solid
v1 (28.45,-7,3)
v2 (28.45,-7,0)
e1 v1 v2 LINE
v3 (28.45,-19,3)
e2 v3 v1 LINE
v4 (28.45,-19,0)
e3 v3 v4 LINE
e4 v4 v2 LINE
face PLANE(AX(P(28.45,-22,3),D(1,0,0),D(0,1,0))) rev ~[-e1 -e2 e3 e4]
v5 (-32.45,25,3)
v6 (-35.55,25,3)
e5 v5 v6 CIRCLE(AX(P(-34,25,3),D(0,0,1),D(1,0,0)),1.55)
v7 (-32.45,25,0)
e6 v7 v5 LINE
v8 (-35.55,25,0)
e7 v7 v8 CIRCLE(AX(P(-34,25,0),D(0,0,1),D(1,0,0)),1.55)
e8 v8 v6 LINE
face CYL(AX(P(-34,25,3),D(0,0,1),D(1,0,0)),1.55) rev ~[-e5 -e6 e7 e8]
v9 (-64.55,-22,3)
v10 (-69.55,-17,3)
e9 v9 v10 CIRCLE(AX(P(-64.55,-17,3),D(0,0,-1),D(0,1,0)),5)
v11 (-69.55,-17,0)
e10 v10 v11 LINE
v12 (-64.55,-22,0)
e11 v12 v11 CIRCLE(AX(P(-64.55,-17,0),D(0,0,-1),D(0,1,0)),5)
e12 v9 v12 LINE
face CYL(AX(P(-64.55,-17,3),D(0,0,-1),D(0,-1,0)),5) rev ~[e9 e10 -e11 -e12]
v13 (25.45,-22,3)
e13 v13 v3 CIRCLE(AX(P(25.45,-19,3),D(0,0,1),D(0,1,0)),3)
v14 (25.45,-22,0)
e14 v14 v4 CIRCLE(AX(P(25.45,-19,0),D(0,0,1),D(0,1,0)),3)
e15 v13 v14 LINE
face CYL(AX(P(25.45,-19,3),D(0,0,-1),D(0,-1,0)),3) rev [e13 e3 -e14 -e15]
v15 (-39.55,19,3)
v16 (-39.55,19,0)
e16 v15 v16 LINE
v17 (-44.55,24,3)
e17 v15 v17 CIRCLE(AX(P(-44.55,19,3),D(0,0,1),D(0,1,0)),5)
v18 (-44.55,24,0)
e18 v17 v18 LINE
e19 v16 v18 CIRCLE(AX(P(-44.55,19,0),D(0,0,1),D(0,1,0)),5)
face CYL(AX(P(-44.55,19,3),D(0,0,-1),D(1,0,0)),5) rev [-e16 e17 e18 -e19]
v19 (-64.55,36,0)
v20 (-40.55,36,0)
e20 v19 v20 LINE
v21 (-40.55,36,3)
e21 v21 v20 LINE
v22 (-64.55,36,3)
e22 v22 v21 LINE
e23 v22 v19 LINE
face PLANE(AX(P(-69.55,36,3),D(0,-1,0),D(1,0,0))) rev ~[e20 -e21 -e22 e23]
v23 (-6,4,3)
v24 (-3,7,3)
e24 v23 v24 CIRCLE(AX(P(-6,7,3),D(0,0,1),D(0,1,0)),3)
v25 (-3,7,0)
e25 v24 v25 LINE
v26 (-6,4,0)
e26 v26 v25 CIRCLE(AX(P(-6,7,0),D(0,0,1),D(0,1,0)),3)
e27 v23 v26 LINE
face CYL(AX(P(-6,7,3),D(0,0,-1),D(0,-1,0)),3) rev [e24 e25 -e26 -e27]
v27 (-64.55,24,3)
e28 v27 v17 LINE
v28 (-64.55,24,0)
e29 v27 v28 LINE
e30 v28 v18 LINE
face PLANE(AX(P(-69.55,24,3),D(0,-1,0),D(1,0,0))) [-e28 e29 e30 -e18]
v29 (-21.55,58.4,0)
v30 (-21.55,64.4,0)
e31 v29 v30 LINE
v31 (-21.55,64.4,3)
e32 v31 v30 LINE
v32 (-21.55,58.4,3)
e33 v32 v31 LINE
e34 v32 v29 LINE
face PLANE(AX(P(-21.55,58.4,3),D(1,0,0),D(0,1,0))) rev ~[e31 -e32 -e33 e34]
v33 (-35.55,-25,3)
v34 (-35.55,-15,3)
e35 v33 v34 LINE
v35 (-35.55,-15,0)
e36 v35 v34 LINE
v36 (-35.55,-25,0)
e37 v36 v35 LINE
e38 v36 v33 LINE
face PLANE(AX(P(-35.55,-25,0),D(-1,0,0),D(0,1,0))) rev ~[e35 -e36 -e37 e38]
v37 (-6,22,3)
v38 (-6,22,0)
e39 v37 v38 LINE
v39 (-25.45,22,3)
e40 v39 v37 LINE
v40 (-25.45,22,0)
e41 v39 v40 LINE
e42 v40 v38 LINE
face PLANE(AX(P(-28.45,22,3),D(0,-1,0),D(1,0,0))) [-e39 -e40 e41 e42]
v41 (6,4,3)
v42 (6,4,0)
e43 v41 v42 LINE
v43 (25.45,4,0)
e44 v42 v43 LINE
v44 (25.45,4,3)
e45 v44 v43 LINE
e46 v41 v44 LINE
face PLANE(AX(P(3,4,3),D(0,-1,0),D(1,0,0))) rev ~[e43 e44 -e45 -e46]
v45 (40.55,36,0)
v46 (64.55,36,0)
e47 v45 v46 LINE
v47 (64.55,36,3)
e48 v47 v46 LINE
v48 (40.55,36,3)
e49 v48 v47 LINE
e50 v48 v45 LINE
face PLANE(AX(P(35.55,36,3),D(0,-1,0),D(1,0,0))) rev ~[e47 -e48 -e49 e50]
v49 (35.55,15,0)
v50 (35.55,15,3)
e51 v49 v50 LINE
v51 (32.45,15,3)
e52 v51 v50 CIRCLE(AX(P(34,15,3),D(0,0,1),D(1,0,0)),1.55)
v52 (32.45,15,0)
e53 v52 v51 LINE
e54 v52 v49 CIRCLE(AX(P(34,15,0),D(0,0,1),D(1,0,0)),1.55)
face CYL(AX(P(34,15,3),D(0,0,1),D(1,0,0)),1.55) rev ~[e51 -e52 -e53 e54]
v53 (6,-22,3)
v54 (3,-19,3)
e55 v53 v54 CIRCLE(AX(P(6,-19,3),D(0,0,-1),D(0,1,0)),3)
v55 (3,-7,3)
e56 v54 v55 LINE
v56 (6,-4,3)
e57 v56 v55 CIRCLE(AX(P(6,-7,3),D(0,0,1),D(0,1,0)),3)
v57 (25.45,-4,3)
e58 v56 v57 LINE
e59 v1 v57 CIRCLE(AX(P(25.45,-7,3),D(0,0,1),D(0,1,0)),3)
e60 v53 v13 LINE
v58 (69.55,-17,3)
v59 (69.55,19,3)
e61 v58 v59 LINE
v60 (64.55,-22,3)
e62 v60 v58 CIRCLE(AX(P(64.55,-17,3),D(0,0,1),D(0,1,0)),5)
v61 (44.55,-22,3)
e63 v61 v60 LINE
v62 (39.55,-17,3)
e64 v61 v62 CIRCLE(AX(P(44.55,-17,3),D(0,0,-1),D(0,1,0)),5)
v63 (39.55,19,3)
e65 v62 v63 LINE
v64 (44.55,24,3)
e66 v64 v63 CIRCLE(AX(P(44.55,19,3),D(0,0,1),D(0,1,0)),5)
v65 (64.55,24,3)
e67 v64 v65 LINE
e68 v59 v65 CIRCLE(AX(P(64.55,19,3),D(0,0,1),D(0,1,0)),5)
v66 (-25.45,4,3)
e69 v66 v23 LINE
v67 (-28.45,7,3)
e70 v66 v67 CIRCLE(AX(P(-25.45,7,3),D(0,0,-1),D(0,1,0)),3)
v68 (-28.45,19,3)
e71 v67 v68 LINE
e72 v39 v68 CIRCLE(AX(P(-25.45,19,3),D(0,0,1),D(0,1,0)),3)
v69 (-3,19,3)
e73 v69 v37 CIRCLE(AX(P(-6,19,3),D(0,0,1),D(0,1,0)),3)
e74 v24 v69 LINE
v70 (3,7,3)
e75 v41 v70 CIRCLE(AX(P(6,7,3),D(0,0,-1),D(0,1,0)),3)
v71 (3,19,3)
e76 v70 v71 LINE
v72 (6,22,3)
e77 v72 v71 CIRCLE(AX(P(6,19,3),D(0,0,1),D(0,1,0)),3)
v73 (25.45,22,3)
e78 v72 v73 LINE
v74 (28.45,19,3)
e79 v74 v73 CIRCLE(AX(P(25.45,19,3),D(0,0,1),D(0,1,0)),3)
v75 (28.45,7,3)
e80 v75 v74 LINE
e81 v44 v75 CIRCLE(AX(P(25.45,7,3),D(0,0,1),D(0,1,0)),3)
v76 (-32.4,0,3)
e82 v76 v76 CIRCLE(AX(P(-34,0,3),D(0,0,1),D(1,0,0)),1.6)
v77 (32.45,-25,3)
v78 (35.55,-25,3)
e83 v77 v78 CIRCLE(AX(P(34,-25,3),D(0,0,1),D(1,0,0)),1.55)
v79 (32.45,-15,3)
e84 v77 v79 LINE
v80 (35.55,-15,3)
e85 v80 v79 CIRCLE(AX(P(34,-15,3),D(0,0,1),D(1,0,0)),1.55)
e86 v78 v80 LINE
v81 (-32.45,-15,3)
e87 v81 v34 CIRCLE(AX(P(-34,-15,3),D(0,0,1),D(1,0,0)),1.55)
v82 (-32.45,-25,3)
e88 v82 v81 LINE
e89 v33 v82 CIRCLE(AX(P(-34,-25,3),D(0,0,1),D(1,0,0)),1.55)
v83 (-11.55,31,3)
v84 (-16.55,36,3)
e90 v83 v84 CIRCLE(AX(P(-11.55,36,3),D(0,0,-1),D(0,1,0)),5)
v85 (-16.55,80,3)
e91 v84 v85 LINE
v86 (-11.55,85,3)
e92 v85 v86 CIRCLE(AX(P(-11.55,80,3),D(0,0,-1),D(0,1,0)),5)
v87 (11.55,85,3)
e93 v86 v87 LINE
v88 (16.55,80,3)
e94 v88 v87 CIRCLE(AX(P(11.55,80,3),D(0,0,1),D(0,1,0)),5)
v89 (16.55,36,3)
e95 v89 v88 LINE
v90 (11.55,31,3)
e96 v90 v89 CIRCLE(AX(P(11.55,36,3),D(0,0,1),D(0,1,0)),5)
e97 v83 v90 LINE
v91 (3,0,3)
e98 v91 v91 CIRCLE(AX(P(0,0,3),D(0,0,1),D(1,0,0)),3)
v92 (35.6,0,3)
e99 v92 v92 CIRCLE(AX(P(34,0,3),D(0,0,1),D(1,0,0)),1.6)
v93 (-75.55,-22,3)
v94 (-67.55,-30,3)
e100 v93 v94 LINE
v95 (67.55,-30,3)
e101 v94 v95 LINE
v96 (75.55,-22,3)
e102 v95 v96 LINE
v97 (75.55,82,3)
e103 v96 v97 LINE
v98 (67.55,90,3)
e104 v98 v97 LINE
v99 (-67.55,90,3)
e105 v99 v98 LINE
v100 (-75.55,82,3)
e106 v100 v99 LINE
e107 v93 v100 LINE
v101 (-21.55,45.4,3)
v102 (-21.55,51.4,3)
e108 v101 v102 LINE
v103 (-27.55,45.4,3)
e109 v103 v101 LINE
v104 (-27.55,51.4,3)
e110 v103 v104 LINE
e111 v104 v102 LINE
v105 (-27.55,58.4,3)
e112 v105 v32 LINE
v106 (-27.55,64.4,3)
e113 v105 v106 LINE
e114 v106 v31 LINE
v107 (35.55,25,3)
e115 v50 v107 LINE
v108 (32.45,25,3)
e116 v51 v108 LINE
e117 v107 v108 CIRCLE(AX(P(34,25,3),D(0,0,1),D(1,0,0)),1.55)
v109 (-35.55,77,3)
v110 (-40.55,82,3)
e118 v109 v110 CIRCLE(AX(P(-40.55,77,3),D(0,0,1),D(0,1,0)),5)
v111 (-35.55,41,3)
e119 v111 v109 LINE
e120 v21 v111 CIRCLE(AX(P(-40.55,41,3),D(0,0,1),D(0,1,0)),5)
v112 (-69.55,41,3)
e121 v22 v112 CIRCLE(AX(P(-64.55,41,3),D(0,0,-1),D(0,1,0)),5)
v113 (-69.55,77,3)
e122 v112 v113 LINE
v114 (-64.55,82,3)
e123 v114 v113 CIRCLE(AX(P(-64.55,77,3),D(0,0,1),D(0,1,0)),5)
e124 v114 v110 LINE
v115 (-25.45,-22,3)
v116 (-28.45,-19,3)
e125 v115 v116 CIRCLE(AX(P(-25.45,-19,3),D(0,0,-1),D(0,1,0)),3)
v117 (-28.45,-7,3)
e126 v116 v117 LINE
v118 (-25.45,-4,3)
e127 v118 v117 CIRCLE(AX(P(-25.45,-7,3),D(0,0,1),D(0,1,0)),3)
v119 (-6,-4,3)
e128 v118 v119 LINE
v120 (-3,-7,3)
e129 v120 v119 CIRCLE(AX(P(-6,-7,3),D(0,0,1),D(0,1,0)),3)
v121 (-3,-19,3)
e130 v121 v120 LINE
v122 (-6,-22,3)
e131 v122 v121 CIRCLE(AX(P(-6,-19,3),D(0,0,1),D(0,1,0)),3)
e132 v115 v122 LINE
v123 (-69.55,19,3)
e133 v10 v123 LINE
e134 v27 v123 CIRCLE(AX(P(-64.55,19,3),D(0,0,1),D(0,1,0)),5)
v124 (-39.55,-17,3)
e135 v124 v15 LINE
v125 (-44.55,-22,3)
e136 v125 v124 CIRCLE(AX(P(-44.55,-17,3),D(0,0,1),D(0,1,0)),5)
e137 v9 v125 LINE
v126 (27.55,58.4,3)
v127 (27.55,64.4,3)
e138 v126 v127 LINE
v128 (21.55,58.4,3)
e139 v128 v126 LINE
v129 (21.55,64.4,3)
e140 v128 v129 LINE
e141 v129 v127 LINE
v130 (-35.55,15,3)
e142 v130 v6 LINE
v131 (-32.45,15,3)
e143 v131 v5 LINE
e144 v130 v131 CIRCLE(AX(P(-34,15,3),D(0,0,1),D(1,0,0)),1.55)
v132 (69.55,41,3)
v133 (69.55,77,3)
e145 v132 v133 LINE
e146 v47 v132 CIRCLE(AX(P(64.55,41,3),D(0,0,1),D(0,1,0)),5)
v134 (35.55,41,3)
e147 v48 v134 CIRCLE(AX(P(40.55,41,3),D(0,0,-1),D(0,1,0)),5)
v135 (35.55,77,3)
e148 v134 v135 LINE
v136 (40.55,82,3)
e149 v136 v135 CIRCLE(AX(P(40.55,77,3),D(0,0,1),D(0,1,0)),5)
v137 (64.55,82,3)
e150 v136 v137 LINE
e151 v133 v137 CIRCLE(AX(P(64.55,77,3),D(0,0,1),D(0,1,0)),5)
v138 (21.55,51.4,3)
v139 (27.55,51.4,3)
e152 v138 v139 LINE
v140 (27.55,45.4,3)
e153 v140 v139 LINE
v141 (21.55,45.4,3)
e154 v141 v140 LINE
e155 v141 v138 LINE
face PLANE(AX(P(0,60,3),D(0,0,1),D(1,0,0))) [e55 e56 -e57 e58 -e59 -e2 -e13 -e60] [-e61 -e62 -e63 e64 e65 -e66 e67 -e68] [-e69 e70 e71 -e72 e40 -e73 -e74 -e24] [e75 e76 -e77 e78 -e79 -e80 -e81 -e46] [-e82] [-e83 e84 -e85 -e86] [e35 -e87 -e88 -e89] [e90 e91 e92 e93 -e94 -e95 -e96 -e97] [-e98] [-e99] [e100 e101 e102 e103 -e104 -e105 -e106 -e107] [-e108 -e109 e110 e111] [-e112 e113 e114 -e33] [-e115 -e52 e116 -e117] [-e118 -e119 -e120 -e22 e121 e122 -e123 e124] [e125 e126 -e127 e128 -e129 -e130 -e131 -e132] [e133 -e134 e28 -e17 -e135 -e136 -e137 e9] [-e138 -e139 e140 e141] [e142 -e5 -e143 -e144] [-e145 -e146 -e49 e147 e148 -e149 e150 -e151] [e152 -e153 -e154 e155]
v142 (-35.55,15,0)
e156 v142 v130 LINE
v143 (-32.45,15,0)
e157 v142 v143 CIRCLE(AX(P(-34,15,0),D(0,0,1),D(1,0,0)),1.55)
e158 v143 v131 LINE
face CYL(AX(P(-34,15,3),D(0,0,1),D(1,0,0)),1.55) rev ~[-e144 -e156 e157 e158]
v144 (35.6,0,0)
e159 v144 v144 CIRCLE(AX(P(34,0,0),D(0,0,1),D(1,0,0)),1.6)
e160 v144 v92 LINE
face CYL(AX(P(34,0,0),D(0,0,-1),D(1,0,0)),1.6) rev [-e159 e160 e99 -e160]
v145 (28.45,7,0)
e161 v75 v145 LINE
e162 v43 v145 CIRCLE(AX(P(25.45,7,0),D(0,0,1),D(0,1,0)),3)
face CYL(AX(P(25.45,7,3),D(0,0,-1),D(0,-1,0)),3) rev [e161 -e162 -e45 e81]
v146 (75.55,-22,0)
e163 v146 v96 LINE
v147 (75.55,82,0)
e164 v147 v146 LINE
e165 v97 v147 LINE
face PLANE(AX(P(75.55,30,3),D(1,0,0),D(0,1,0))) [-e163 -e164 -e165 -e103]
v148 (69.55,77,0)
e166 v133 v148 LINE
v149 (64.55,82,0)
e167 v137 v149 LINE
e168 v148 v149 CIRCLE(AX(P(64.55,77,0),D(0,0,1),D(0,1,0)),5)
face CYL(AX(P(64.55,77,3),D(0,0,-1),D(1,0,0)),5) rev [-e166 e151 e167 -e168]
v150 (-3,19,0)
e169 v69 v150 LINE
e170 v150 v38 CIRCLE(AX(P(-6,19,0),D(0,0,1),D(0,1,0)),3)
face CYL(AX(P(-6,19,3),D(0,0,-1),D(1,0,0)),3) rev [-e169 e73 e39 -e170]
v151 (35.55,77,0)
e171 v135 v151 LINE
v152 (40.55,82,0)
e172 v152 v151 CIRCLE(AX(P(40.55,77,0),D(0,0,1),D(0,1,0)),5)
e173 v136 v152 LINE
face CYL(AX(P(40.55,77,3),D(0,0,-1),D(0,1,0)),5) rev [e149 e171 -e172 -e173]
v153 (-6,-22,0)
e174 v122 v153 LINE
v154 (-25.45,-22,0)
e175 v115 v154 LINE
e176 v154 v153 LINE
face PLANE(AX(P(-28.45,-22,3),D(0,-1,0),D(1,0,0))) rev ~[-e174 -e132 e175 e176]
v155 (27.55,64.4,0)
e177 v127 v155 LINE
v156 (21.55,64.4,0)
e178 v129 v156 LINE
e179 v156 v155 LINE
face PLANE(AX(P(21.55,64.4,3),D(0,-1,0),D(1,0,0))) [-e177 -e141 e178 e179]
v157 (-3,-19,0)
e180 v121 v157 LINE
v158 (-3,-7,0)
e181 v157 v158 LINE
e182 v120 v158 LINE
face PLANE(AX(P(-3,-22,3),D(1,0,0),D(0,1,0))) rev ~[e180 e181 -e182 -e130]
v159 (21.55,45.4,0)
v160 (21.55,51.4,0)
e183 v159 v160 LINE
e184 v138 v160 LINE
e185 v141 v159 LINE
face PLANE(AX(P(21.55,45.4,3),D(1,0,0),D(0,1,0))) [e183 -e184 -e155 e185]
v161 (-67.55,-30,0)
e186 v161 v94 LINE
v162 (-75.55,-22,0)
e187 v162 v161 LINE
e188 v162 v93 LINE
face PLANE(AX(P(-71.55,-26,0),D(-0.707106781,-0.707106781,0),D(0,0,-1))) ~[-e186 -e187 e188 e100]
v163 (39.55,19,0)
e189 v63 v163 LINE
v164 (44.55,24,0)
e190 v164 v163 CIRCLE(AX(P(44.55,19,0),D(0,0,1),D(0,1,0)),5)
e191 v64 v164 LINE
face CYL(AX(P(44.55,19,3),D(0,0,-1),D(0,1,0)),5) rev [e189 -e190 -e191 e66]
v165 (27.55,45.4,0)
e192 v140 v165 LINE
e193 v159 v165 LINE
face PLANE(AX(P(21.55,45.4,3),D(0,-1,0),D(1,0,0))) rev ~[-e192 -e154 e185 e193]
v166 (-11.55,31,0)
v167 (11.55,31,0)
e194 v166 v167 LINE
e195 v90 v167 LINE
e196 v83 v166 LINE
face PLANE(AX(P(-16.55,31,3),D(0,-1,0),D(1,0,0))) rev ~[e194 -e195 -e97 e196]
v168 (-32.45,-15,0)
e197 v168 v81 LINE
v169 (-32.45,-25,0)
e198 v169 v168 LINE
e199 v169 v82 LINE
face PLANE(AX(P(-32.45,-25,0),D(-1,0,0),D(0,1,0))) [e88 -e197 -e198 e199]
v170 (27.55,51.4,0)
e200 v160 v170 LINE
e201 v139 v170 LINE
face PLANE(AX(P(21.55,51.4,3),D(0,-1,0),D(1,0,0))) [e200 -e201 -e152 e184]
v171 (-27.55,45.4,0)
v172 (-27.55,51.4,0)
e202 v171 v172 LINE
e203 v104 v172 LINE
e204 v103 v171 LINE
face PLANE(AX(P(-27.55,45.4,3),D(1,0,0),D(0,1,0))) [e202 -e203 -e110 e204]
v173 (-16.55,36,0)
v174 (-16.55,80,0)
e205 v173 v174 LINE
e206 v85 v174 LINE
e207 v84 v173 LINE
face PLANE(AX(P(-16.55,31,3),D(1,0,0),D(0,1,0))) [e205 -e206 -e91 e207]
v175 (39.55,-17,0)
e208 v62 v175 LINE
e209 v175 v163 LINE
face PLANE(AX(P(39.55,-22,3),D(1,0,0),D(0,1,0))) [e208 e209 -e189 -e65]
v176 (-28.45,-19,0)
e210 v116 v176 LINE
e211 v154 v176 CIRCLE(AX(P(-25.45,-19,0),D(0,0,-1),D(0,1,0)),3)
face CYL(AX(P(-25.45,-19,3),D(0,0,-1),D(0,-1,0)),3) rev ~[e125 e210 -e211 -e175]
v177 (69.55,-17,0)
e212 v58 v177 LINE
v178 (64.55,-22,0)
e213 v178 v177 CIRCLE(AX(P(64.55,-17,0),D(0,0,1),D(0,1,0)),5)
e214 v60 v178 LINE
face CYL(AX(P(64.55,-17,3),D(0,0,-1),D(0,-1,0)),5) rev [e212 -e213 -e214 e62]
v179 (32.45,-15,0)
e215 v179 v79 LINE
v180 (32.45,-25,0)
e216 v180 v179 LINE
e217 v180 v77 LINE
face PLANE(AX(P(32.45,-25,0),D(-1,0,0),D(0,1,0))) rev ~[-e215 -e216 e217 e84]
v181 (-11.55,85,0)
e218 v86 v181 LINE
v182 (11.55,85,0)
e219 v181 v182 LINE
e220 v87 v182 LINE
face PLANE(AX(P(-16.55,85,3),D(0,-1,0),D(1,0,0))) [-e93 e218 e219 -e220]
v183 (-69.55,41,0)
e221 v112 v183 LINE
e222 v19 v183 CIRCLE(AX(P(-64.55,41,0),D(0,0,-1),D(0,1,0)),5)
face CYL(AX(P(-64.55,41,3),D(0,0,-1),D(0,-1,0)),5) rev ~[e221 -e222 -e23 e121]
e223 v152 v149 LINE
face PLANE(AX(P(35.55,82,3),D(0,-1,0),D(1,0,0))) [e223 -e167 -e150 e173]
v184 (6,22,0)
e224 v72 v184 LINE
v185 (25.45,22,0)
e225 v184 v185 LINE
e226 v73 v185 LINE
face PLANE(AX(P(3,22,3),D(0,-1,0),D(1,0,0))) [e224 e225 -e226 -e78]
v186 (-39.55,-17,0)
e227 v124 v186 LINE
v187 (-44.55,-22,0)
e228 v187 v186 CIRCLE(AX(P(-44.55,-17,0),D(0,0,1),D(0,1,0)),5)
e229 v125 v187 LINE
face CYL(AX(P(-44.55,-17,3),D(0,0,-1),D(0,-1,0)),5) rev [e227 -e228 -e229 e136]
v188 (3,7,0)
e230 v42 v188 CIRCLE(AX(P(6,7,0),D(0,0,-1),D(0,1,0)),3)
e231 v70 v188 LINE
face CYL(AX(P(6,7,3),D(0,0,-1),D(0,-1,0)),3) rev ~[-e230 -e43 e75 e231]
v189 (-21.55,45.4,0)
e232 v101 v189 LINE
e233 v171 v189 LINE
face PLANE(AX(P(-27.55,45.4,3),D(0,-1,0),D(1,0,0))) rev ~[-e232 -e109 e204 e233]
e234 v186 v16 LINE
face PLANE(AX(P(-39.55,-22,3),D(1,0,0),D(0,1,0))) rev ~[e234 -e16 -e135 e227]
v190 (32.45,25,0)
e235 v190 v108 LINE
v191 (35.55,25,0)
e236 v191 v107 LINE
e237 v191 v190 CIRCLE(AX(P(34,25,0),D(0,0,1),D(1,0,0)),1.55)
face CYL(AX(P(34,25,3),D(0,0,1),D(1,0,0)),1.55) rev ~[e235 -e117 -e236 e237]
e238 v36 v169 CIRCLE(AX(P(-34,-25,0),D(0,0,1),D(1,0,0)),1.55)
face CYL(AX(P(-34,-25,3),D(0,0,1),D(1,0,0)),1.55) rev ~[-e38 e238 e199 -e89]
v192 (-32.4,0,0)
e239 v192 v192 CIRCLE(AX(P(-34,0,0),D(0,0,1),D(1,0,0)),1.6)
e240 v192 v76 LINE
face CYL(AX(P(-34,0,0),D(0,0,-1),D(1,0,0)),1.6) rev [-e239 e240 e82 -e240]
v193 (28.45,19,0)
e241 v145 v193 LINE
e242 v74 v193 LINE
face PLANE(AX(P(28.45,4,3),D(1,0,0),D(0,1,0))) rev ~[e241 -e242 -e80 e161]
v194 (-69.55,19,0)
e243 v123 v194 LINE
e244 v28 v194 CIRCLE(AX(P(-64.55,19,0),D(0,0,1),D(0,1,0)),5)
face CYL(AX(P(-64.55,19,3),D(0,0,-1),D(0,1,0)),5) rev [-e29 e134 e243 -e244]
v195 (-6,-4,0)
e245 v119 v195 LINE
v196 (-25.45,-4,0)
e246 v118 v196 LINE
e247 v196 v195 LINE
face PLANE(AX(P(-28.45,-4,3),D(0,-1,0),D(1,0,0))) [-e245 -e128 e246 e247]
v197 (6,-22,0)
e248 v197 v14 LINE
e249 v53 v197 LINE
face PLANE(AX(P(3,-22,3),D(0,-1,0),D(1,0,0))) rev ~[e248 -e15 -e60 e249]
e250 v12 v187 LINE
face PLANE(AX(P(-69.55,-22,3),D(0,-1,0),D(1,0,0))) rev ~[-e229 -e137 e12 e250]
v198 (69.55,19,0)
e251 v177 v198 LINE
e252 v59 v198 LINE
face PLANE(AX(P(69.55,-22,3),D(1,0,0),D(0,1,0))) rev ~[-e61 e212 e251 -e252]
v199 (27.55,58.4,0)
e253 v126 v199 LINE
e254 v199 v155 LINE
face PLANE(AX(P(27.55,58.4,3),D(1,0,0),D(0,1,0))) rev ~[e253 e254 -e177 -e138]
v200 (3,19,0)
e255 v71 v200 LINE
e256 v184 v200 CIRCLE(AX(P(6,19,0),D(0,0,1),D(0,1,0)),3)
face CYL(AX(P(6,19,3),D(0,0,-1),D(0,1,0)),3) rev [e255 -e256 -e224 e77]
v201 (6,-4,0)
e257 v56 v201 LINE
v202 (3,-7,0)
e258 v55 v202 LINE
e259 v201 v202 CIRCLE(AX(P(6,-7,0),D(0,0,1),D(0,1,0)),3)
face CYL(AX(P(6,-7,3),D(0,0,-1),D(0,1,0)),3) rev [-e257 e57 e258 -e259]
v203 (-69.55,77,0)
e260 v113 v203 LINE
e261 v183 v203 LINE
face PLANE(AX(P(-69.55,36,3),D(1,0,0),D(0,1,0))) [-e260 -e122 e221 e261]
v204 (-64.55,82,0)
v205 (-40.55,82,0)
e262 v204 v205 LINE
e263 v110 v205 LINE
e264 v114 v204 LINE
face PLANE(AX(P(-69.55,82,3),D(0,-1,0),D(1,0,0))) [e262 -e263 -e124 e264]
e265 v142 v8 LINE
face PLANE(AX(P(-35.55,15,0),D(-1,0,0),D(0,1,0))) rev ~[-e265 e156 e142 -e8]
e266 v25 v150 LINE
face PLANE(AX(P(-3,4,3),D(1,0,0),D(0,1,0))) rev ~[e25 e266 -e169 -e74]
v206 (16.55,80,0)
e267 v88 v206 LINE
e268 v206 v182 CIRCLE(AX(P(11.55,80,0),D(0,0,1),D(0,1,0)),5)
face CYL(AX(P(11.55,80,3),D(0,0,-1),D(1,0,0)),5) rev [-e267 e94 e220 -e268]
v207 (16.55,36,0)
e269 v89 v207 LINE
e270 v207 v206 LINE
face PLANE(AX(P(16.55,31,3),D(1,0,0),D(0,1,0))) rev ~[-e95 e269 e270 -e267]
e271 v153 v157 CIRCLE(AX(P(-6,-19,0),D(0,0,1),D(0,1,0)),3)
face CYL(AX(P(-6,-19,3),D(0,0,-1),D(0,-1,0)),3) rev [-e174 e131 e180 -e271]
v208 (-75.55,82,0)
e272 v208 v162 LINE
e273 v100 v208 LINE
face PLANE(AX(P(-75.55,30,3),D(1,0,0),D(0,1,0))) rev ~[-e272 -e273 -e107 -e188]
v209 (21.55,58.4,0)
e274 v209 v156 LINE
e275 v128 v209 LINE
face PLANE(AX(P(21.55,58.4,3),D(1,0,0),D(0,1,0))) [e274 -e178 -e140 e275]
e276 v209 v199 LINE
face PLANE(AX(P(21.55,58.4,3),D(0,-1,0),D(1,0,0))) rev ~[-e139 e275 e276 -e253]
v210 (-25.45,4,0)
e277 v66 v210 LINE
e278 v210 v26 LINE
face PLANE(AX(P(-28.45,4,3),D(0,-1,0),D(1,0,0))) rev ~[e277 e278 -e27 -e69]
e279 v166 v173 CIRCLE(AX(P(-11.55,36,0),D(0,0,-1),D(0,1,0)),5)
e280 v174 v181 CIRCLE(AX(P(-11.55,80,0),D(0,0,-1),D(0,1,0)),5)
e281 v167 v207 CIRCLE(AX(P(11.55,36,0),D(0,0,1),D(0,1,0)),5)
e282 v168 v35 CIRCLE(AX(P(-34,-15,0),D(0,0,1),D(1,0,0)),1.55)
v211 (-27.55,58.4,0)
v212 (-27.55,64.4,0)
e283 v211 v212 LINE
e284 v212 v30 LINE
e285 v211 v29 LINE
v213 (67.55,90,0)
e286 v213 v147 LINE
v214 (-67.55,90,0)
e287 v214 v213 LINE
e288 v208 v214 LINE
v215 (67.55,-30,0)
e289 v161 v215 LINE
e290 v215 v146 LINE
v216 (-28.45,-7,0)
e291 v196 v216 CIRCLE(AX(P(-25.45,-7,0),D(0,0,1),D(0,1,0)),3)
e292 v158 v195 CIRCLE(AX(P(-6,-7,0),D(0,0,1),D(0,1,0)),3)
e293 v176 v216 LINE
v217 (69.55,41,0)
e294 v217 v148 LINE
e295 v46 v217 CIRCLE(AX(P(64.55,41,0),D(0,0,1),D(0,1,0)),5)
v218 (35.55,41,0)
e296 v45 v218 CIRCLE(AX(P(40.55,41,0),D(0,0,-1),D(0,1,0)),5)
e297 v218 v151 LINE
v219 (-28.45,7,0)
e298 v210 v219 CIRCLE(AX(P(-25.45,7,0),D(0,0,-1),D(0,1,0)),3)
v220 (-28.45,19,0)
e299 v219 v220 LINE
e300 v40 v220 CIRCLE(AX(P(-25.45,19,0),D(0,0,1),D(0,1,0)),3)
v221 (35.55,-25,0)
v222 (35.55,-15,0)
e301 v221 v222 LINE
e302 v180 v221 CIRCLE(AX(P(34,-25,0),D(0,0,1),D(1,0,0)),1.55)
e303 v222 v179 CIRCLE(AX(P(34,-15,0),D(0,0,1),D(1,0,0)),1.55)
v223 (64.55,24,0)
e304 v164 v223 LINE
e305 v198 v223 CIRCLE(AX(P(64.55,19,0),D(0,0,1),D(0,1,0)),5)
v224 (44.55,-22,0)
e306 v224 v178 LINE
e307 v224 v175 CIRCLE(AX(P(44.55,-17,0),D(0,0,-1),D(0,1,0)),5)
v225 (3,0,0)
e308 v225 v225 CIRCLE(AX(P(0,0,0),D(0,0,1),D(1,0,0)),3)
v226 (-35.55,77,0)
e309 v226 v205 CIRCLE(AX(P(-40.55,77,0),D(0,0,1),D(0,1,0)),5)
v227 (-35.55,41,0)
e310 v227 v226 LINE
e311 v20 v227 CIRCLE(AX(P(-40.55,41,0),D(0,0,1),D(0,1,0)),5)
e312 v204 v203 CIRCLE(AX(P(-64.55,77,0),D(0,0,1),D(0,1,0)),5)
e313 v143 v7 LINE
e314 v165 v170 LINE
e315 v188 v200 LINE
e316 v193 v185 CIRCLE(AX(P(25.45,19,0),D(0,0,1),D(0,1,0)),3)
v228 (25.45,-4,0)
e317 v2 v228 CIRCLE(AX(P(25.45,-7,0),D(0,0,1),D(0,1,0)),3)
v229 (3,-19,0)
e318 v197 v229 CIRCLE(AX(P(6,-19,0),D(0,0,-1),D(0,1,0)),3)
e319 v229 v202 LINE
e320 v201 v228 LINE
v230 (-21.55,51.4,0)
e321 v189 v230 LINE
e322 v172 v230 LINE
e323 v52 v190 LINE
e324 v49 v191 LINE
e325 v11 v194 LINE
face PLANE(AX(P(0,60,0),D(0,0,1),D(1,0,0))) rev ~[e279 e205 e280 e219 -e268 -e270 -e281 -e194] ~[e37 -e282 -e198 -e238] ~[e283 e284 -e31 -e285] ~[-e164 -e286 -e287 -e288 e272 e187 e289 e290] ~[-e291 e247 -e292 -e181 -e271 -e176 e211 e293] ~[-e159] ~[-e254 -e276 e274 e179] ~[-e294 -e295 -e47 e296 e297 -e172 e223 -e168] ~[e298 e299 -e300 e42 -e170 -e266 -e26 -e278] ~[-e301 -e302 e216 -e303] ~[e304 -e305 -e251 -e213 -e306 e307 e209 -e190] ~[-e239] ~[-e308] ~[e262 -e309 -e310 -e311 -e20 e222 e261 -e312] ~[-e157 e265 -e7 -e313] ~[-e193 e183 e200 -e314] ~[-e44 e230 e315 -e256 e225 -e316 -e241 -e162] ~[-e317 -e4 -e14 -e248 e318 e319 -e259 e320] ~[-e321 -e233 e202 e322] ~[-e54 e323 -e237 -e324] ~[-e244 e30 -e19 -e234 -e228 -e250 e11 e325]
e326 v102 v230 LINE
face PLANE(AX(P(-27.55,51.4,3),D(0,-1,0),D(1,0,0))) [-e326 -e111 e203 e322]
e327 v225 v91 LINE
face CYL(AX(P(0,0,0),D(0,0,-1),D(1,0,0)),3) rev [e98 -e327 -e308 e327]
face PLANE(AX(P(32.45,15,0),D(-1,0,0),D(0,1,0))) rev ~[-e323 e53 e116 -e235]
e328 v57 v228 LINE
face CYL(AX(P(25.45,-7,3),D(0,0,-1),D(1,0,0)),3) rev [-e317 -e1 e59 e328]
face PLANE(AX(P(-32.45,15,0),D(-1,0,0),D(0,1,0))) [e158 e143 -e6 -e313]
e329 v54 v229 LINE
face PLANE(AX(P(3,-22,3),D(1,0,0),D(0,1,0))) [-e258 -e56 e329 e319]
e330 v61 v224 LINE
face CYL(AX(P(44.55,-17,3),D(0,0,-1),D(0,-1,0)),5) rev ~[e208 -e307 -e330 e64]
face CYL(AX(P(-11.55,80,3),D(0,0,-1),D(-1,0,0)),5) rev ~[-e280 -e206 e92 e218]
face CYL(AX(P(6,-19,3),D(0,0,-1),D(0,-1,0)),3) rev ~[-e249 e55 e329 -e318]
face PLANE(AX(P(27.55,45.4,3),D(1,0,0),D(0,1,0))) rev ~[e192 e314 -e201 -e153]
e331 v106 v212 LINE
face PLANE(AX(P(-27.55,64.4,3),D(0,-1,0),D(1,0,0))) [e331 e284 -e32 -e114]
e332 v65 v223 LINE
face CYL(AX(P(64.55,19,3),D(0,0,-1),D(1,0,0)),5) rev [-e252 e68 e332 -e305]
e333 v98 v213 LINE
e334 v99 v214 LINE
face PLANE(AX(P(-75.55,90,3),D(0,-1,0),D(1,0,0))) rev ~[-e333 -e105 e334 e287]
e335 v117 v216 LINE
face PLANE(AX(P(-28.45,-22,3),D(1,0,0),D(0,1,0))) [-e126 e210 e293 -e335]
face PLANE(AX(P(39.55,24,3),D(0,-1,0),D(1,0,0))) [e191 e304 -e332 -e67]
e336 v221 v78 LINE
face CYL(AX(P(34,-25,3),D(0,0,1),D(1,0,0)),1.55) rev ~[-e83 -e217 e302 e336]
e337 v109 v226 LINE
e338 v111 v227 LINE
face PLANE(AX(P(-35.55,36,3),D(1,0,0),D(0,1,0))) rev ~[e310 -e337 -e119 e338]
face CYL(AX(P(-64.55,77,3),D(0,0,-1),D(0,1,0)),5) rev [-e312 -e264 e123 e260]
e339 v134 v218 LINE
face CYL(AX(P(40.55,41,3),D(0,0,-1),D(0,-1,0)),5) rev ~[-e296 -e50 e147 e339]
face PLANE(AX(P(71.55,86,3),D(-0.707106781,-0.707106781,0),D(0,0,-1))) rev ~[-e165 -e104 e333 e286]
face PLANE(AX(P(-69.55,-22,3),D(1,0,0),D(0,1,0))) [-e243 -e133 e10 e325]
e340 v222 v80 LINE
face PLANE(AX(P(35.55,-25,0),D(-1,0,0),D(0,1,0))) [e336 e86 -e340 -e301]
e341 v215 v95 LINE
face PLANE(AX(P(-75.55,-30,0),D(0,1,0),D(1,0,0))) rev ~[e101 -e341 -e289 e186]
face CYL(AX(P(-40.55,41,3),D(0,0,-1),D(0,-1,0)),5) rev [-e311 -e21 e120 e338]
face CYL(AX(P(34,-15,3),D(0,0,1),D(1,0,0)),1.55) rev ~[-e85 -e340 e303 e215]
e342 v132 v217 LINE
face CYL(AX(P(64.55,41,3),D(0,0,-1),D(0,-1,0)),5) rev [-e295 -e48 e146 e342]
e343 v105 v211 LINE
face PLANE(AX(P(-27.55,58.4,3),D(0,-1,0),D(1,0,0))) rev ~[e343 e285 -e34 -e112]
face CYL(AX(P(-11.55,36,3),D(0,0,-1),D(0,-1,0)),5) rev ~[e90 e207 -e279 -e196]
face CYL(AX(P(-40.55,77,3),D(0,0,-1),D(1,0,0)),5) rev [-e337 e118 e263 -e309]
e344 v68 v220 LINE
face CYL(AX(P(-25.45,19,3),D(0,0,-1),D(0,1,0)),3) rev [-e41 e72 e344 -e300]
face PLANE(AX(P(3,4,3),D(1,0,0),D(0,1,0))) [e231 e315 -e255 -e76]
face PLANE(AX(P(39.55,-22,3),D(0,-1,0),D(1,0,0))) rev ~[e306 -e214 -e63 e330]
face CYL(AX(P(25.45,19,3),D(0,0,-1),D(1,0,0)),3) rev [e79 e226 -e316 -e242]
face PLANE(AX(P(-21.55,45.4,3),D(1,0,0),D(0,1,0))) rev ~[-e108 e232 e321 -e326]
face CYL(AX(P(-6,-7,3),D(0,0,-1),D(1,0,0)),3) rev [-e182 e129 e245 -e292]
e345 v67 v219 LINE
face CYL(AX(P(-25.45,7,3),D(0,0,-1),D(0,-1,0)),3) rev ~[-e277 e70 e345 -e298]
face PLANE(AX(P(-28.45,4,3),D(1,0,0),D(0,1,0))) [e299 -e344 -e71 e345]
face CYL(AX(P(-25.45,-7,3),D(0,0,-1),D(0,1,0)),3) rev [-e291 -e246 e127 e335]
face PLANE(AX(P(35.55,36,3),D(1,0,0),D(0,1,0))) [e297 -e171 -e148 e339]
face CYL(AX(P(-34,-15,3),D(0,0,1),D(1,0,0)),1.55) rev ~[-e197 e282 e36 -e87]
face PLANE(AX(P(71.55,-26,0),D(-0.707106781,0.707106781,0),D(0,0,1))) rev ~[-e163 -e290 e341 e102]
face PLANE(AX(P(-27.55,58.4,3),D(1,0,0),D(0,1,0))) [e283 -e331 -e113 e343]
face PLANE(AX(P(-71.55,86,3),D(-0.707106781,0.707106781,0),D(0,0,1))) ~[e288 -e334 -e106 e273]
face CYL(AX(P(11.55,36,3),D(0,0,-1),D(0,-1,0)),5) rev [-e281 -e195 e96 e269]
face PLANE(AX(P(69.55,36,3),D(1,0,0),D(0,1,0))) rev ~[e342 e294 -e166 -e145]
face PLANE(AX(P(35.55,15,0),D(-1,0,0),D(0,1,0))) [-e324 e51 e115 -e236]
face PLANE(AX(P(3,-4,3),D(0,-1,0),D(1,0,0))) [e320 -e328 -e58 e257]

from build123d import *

# Parameters (mm, degrees)
SKETCH_1_W          = 151.1
SKETCH_1_H          = 60
SKETCH_1_R          = 3
SKETCH_1_R_2        = 1.6
SKETCH_1_W_2        = 3.1
SKETCH_1_H_2        = 10
EXTRUDE_1_DEPTH     = 3
SKETCH_2_R          = 1.55
SKETCH_2_W          = 25.45
SKETCH_2_H          = 18
CUT_EXTRUDE_1_DEPTH = 82.343730551
FILLET_1_R          = 3
SKETCH_3_W          = 151.1
SKETCH_3_H          = 60
SKETCH_3_W_2        = 6
SKETCH_3_H_2        = 6
SKETCH_3_W_3        = 33.1
SKETCH_3_H_3        = 54
EXTRUDE_2_DEPTH     = 3
SKETCH_4_W          = 34
SKETCH_4_H          = 46
SKETCH_4_W_2        = 30
CUT_EXTRUDE_2_DEPTH = 118.544895678
FILLET_2_R          = 5
CHAMFER_1_SIZE      = 8


with BuildPart() as part:
    # 草图1 → 凸台-拉伸1 (new body)
    with BuildSketch(Plane.XY):
        Rectangle(SKETCH_1_W, SKETCH_1_H)
        Circle(SKETCH_1_R, mode=Mode.SUBTRACT)
        with Locations((34, 0)):
            Circle(SKETCH_1_R_2, mode=Mode.SUBTRACT)
        with Locations((-34, 0)):
            Circle(SKETCH_1_R_2, mode=Mode.SUBTRACT)
        with Locations((34, -20)):
            Rectangle(SKETCH_1_W_2, SKETCH_1_H_2, mode=Mode.SUBTRACT)
        with Locations((-34, 20)):
            Rectangle(SKETCH_1_W_2, SKETCH_1_H_2, mode=Mode.SUBTRACT)
        with Locations((-34, -20)):
            Rectangle(SKETCH_1_W_2, SKETCH_1_H_2, mode=Mode.SUBTRACT)
        with Locations((34, 20)):
            Rectangle(SKETCH_1_W_2, SKETCH_1_H_2, mode=Mode.SUBTRACT)
    extrude(amount=EXTRUDE_1_DEPTH)

    # 草图2 → 切除-拉伸1 (cut, through all)
    with BuildSketch(Plane.XY.offset(3)):
        with Locations((-34, 25)):
            Circle(SKETCH_2_R)
        with Locations((-34, 15)):
            Circle(SKETCH_2_R)
        with Locations((34, 25)):
            Circle(SKETCH_2_R)
        with Locations((34, 15)):
            Circle(SKETCH_2_R)
        with Locations((34, -15)):
            Circle(SKETCH_2_R)
        with Locations((34, -25)):
            Circle(SKETCH_2_R)
        with Locations((-34, -15)):
            Circle(SKETCH_2_R)
        with Locations((-34, -25)):
            Circle(SKETCH_2_R)
        with Locations((-15.725, 13)):
            Rectangle(SKETCH_2_W, SKETCH_2_H)
        with Locations((15.725, 13)):
            Rectangle(SKETCH_2_W, SKETCH_2_H)
        with Locations((-15.725, -13)):
            Rectangle(SKETCH_2_W, SKETCH_2_H)
        with Locations((15.725, -13)):
            Rectangle(SKETCH_2_W, SKETCH_2_H)
    extrude(amount=-CUT_EXTRUDE_1_DEPTH, mode=Mode.SUBTRACT)

    # 圆角1
    fillet_1_edges = [part.edges().sort_by_distance(p)[0] for p in [
        (28.45, 4, 1.5),
        (3, 4, 1.5),
        (3, 22, 1.5),
        (28.45, 22, 1.5),
        (-28.45, -22, 1.5),
        (-28.45, -4, 1.5),
        (-3, -4, 1.5),
        (-3, -22, 1.5),
        (28.45, -22, 1.5),
        (3, -22, 1.5),
        (3, -4, 1.5),
        (28.45, -4, 1.5),
        (-28.45, 4, 1.5),
        (-28.45, 22, 1.5),
        (-3, 22, 1.5),
        (-3, 4, 1.5),
    ]]
    fillet(fillet_1_edges, radius=FILLET_1_R)

    # 草图3 → 凸台-拉伸2 (add)
    with BuildSketch(Plane.XY.offset(3)):
        with Locations((0, 60)):
            Rectangle(SKETCH_3_W, SKETCH_3_H)
        with Locations((24.55, 48.4)):
            Rectangle(SKETCH_3_W_2, SKETCH_3_H_2, mode=Mode.SUBTRACT)
        with Locations((-24.55, 61.4)):
            Rectangle(SKETCH_3_W_2, SKETCH_3_H_2, mode=Mode.SUBTRACT)
        with Locations((-24.55, 48.4)):
            Rectangle(SKETCH_3_W_2, SKETCH_3_H_2, mode=Mode.SUBTRACT)
        with Locations((24.55, 61.4)):
            Rectangle(SKETCH_3_W_2, SKETCH_3_H_2, mode=Mode.SUBTRACT)
        with Locations((0, 58)):
            Rectangle(SKETCH_3_W_3, SKETCH_3_H_3, mode=Mode.SUBTRACT)
    extrude(amount=-EXTRUDE_2_DEPTH)

    # 草图4 → 切除-拉伸2 (cut, through all)
    with BuildSketch(Plane.XY.offset(3)):
        with Locations((-52.55, 59)):
            Rectangle(SKETCH_4_W, SKETCH_4_H)
        with Locations((-54.55, 1)):
            Rectangle(SKETCH_4_W_2, SKETCH_4_H)
        with Locations((54.55, 1)):
            Rectangle(SKETCH_4_W_2, SKETCH_4_H)
        with Locations((52.55, 59)):
            Rectangle(SKETCH_4_W, SKETCH_4_H)
    extrude(amount=-CUT_EXTRUDE_2_DEPTH, mode=Mode.SUBTRACT)

    # 圆角2
    fillet_2_edges = [part.edges().sort_by_distance(p)[0] for p in [
        (-16.55, 85, 1.5),
        (16.55, 85, 1.5),
        (16.55, 31, 1.5),
        (-16.55, 31, 1.5),
        (69.55, 82, 1.5),
        (69.55, 36, 1.5),
        (35.55, 36, 1.5),
        (35.55, 82, 1.5),
        (69.55, 24, 1.5),
        (69.55, -22, 1.5),
        (39.55, -22, 1.5),
        (39.55, 24, 1.5),
        (-69.55, -22, 1.5),
        (-69.55, 24, 1.5),
        (-39.55, 24, 1.5),
        (-39.55, -22, 1.5),
        (-69.55, 36, 1.5),
        (-69.55, 82, 1.5),
        (-35.55, 82, 1.5),
        (-35.55, 36, 1.5),
    ]]
    fillet(fillet_2_edges, radius=FILLET_2_R)

    # 倒角1
    chamfer_1_edges = [part.edges().sort_by_distance(p)[0] for p in [
        (-75.55, 90, 1.5),
        (75.55, 90, 1.5),
        (75.55, -30, 1.5),
        (-75.55, -30, 1.5),
    ]]
    chamfer(chamfer_1_edges, length=CHAMFER_1_SIZE)


solid = part.part
